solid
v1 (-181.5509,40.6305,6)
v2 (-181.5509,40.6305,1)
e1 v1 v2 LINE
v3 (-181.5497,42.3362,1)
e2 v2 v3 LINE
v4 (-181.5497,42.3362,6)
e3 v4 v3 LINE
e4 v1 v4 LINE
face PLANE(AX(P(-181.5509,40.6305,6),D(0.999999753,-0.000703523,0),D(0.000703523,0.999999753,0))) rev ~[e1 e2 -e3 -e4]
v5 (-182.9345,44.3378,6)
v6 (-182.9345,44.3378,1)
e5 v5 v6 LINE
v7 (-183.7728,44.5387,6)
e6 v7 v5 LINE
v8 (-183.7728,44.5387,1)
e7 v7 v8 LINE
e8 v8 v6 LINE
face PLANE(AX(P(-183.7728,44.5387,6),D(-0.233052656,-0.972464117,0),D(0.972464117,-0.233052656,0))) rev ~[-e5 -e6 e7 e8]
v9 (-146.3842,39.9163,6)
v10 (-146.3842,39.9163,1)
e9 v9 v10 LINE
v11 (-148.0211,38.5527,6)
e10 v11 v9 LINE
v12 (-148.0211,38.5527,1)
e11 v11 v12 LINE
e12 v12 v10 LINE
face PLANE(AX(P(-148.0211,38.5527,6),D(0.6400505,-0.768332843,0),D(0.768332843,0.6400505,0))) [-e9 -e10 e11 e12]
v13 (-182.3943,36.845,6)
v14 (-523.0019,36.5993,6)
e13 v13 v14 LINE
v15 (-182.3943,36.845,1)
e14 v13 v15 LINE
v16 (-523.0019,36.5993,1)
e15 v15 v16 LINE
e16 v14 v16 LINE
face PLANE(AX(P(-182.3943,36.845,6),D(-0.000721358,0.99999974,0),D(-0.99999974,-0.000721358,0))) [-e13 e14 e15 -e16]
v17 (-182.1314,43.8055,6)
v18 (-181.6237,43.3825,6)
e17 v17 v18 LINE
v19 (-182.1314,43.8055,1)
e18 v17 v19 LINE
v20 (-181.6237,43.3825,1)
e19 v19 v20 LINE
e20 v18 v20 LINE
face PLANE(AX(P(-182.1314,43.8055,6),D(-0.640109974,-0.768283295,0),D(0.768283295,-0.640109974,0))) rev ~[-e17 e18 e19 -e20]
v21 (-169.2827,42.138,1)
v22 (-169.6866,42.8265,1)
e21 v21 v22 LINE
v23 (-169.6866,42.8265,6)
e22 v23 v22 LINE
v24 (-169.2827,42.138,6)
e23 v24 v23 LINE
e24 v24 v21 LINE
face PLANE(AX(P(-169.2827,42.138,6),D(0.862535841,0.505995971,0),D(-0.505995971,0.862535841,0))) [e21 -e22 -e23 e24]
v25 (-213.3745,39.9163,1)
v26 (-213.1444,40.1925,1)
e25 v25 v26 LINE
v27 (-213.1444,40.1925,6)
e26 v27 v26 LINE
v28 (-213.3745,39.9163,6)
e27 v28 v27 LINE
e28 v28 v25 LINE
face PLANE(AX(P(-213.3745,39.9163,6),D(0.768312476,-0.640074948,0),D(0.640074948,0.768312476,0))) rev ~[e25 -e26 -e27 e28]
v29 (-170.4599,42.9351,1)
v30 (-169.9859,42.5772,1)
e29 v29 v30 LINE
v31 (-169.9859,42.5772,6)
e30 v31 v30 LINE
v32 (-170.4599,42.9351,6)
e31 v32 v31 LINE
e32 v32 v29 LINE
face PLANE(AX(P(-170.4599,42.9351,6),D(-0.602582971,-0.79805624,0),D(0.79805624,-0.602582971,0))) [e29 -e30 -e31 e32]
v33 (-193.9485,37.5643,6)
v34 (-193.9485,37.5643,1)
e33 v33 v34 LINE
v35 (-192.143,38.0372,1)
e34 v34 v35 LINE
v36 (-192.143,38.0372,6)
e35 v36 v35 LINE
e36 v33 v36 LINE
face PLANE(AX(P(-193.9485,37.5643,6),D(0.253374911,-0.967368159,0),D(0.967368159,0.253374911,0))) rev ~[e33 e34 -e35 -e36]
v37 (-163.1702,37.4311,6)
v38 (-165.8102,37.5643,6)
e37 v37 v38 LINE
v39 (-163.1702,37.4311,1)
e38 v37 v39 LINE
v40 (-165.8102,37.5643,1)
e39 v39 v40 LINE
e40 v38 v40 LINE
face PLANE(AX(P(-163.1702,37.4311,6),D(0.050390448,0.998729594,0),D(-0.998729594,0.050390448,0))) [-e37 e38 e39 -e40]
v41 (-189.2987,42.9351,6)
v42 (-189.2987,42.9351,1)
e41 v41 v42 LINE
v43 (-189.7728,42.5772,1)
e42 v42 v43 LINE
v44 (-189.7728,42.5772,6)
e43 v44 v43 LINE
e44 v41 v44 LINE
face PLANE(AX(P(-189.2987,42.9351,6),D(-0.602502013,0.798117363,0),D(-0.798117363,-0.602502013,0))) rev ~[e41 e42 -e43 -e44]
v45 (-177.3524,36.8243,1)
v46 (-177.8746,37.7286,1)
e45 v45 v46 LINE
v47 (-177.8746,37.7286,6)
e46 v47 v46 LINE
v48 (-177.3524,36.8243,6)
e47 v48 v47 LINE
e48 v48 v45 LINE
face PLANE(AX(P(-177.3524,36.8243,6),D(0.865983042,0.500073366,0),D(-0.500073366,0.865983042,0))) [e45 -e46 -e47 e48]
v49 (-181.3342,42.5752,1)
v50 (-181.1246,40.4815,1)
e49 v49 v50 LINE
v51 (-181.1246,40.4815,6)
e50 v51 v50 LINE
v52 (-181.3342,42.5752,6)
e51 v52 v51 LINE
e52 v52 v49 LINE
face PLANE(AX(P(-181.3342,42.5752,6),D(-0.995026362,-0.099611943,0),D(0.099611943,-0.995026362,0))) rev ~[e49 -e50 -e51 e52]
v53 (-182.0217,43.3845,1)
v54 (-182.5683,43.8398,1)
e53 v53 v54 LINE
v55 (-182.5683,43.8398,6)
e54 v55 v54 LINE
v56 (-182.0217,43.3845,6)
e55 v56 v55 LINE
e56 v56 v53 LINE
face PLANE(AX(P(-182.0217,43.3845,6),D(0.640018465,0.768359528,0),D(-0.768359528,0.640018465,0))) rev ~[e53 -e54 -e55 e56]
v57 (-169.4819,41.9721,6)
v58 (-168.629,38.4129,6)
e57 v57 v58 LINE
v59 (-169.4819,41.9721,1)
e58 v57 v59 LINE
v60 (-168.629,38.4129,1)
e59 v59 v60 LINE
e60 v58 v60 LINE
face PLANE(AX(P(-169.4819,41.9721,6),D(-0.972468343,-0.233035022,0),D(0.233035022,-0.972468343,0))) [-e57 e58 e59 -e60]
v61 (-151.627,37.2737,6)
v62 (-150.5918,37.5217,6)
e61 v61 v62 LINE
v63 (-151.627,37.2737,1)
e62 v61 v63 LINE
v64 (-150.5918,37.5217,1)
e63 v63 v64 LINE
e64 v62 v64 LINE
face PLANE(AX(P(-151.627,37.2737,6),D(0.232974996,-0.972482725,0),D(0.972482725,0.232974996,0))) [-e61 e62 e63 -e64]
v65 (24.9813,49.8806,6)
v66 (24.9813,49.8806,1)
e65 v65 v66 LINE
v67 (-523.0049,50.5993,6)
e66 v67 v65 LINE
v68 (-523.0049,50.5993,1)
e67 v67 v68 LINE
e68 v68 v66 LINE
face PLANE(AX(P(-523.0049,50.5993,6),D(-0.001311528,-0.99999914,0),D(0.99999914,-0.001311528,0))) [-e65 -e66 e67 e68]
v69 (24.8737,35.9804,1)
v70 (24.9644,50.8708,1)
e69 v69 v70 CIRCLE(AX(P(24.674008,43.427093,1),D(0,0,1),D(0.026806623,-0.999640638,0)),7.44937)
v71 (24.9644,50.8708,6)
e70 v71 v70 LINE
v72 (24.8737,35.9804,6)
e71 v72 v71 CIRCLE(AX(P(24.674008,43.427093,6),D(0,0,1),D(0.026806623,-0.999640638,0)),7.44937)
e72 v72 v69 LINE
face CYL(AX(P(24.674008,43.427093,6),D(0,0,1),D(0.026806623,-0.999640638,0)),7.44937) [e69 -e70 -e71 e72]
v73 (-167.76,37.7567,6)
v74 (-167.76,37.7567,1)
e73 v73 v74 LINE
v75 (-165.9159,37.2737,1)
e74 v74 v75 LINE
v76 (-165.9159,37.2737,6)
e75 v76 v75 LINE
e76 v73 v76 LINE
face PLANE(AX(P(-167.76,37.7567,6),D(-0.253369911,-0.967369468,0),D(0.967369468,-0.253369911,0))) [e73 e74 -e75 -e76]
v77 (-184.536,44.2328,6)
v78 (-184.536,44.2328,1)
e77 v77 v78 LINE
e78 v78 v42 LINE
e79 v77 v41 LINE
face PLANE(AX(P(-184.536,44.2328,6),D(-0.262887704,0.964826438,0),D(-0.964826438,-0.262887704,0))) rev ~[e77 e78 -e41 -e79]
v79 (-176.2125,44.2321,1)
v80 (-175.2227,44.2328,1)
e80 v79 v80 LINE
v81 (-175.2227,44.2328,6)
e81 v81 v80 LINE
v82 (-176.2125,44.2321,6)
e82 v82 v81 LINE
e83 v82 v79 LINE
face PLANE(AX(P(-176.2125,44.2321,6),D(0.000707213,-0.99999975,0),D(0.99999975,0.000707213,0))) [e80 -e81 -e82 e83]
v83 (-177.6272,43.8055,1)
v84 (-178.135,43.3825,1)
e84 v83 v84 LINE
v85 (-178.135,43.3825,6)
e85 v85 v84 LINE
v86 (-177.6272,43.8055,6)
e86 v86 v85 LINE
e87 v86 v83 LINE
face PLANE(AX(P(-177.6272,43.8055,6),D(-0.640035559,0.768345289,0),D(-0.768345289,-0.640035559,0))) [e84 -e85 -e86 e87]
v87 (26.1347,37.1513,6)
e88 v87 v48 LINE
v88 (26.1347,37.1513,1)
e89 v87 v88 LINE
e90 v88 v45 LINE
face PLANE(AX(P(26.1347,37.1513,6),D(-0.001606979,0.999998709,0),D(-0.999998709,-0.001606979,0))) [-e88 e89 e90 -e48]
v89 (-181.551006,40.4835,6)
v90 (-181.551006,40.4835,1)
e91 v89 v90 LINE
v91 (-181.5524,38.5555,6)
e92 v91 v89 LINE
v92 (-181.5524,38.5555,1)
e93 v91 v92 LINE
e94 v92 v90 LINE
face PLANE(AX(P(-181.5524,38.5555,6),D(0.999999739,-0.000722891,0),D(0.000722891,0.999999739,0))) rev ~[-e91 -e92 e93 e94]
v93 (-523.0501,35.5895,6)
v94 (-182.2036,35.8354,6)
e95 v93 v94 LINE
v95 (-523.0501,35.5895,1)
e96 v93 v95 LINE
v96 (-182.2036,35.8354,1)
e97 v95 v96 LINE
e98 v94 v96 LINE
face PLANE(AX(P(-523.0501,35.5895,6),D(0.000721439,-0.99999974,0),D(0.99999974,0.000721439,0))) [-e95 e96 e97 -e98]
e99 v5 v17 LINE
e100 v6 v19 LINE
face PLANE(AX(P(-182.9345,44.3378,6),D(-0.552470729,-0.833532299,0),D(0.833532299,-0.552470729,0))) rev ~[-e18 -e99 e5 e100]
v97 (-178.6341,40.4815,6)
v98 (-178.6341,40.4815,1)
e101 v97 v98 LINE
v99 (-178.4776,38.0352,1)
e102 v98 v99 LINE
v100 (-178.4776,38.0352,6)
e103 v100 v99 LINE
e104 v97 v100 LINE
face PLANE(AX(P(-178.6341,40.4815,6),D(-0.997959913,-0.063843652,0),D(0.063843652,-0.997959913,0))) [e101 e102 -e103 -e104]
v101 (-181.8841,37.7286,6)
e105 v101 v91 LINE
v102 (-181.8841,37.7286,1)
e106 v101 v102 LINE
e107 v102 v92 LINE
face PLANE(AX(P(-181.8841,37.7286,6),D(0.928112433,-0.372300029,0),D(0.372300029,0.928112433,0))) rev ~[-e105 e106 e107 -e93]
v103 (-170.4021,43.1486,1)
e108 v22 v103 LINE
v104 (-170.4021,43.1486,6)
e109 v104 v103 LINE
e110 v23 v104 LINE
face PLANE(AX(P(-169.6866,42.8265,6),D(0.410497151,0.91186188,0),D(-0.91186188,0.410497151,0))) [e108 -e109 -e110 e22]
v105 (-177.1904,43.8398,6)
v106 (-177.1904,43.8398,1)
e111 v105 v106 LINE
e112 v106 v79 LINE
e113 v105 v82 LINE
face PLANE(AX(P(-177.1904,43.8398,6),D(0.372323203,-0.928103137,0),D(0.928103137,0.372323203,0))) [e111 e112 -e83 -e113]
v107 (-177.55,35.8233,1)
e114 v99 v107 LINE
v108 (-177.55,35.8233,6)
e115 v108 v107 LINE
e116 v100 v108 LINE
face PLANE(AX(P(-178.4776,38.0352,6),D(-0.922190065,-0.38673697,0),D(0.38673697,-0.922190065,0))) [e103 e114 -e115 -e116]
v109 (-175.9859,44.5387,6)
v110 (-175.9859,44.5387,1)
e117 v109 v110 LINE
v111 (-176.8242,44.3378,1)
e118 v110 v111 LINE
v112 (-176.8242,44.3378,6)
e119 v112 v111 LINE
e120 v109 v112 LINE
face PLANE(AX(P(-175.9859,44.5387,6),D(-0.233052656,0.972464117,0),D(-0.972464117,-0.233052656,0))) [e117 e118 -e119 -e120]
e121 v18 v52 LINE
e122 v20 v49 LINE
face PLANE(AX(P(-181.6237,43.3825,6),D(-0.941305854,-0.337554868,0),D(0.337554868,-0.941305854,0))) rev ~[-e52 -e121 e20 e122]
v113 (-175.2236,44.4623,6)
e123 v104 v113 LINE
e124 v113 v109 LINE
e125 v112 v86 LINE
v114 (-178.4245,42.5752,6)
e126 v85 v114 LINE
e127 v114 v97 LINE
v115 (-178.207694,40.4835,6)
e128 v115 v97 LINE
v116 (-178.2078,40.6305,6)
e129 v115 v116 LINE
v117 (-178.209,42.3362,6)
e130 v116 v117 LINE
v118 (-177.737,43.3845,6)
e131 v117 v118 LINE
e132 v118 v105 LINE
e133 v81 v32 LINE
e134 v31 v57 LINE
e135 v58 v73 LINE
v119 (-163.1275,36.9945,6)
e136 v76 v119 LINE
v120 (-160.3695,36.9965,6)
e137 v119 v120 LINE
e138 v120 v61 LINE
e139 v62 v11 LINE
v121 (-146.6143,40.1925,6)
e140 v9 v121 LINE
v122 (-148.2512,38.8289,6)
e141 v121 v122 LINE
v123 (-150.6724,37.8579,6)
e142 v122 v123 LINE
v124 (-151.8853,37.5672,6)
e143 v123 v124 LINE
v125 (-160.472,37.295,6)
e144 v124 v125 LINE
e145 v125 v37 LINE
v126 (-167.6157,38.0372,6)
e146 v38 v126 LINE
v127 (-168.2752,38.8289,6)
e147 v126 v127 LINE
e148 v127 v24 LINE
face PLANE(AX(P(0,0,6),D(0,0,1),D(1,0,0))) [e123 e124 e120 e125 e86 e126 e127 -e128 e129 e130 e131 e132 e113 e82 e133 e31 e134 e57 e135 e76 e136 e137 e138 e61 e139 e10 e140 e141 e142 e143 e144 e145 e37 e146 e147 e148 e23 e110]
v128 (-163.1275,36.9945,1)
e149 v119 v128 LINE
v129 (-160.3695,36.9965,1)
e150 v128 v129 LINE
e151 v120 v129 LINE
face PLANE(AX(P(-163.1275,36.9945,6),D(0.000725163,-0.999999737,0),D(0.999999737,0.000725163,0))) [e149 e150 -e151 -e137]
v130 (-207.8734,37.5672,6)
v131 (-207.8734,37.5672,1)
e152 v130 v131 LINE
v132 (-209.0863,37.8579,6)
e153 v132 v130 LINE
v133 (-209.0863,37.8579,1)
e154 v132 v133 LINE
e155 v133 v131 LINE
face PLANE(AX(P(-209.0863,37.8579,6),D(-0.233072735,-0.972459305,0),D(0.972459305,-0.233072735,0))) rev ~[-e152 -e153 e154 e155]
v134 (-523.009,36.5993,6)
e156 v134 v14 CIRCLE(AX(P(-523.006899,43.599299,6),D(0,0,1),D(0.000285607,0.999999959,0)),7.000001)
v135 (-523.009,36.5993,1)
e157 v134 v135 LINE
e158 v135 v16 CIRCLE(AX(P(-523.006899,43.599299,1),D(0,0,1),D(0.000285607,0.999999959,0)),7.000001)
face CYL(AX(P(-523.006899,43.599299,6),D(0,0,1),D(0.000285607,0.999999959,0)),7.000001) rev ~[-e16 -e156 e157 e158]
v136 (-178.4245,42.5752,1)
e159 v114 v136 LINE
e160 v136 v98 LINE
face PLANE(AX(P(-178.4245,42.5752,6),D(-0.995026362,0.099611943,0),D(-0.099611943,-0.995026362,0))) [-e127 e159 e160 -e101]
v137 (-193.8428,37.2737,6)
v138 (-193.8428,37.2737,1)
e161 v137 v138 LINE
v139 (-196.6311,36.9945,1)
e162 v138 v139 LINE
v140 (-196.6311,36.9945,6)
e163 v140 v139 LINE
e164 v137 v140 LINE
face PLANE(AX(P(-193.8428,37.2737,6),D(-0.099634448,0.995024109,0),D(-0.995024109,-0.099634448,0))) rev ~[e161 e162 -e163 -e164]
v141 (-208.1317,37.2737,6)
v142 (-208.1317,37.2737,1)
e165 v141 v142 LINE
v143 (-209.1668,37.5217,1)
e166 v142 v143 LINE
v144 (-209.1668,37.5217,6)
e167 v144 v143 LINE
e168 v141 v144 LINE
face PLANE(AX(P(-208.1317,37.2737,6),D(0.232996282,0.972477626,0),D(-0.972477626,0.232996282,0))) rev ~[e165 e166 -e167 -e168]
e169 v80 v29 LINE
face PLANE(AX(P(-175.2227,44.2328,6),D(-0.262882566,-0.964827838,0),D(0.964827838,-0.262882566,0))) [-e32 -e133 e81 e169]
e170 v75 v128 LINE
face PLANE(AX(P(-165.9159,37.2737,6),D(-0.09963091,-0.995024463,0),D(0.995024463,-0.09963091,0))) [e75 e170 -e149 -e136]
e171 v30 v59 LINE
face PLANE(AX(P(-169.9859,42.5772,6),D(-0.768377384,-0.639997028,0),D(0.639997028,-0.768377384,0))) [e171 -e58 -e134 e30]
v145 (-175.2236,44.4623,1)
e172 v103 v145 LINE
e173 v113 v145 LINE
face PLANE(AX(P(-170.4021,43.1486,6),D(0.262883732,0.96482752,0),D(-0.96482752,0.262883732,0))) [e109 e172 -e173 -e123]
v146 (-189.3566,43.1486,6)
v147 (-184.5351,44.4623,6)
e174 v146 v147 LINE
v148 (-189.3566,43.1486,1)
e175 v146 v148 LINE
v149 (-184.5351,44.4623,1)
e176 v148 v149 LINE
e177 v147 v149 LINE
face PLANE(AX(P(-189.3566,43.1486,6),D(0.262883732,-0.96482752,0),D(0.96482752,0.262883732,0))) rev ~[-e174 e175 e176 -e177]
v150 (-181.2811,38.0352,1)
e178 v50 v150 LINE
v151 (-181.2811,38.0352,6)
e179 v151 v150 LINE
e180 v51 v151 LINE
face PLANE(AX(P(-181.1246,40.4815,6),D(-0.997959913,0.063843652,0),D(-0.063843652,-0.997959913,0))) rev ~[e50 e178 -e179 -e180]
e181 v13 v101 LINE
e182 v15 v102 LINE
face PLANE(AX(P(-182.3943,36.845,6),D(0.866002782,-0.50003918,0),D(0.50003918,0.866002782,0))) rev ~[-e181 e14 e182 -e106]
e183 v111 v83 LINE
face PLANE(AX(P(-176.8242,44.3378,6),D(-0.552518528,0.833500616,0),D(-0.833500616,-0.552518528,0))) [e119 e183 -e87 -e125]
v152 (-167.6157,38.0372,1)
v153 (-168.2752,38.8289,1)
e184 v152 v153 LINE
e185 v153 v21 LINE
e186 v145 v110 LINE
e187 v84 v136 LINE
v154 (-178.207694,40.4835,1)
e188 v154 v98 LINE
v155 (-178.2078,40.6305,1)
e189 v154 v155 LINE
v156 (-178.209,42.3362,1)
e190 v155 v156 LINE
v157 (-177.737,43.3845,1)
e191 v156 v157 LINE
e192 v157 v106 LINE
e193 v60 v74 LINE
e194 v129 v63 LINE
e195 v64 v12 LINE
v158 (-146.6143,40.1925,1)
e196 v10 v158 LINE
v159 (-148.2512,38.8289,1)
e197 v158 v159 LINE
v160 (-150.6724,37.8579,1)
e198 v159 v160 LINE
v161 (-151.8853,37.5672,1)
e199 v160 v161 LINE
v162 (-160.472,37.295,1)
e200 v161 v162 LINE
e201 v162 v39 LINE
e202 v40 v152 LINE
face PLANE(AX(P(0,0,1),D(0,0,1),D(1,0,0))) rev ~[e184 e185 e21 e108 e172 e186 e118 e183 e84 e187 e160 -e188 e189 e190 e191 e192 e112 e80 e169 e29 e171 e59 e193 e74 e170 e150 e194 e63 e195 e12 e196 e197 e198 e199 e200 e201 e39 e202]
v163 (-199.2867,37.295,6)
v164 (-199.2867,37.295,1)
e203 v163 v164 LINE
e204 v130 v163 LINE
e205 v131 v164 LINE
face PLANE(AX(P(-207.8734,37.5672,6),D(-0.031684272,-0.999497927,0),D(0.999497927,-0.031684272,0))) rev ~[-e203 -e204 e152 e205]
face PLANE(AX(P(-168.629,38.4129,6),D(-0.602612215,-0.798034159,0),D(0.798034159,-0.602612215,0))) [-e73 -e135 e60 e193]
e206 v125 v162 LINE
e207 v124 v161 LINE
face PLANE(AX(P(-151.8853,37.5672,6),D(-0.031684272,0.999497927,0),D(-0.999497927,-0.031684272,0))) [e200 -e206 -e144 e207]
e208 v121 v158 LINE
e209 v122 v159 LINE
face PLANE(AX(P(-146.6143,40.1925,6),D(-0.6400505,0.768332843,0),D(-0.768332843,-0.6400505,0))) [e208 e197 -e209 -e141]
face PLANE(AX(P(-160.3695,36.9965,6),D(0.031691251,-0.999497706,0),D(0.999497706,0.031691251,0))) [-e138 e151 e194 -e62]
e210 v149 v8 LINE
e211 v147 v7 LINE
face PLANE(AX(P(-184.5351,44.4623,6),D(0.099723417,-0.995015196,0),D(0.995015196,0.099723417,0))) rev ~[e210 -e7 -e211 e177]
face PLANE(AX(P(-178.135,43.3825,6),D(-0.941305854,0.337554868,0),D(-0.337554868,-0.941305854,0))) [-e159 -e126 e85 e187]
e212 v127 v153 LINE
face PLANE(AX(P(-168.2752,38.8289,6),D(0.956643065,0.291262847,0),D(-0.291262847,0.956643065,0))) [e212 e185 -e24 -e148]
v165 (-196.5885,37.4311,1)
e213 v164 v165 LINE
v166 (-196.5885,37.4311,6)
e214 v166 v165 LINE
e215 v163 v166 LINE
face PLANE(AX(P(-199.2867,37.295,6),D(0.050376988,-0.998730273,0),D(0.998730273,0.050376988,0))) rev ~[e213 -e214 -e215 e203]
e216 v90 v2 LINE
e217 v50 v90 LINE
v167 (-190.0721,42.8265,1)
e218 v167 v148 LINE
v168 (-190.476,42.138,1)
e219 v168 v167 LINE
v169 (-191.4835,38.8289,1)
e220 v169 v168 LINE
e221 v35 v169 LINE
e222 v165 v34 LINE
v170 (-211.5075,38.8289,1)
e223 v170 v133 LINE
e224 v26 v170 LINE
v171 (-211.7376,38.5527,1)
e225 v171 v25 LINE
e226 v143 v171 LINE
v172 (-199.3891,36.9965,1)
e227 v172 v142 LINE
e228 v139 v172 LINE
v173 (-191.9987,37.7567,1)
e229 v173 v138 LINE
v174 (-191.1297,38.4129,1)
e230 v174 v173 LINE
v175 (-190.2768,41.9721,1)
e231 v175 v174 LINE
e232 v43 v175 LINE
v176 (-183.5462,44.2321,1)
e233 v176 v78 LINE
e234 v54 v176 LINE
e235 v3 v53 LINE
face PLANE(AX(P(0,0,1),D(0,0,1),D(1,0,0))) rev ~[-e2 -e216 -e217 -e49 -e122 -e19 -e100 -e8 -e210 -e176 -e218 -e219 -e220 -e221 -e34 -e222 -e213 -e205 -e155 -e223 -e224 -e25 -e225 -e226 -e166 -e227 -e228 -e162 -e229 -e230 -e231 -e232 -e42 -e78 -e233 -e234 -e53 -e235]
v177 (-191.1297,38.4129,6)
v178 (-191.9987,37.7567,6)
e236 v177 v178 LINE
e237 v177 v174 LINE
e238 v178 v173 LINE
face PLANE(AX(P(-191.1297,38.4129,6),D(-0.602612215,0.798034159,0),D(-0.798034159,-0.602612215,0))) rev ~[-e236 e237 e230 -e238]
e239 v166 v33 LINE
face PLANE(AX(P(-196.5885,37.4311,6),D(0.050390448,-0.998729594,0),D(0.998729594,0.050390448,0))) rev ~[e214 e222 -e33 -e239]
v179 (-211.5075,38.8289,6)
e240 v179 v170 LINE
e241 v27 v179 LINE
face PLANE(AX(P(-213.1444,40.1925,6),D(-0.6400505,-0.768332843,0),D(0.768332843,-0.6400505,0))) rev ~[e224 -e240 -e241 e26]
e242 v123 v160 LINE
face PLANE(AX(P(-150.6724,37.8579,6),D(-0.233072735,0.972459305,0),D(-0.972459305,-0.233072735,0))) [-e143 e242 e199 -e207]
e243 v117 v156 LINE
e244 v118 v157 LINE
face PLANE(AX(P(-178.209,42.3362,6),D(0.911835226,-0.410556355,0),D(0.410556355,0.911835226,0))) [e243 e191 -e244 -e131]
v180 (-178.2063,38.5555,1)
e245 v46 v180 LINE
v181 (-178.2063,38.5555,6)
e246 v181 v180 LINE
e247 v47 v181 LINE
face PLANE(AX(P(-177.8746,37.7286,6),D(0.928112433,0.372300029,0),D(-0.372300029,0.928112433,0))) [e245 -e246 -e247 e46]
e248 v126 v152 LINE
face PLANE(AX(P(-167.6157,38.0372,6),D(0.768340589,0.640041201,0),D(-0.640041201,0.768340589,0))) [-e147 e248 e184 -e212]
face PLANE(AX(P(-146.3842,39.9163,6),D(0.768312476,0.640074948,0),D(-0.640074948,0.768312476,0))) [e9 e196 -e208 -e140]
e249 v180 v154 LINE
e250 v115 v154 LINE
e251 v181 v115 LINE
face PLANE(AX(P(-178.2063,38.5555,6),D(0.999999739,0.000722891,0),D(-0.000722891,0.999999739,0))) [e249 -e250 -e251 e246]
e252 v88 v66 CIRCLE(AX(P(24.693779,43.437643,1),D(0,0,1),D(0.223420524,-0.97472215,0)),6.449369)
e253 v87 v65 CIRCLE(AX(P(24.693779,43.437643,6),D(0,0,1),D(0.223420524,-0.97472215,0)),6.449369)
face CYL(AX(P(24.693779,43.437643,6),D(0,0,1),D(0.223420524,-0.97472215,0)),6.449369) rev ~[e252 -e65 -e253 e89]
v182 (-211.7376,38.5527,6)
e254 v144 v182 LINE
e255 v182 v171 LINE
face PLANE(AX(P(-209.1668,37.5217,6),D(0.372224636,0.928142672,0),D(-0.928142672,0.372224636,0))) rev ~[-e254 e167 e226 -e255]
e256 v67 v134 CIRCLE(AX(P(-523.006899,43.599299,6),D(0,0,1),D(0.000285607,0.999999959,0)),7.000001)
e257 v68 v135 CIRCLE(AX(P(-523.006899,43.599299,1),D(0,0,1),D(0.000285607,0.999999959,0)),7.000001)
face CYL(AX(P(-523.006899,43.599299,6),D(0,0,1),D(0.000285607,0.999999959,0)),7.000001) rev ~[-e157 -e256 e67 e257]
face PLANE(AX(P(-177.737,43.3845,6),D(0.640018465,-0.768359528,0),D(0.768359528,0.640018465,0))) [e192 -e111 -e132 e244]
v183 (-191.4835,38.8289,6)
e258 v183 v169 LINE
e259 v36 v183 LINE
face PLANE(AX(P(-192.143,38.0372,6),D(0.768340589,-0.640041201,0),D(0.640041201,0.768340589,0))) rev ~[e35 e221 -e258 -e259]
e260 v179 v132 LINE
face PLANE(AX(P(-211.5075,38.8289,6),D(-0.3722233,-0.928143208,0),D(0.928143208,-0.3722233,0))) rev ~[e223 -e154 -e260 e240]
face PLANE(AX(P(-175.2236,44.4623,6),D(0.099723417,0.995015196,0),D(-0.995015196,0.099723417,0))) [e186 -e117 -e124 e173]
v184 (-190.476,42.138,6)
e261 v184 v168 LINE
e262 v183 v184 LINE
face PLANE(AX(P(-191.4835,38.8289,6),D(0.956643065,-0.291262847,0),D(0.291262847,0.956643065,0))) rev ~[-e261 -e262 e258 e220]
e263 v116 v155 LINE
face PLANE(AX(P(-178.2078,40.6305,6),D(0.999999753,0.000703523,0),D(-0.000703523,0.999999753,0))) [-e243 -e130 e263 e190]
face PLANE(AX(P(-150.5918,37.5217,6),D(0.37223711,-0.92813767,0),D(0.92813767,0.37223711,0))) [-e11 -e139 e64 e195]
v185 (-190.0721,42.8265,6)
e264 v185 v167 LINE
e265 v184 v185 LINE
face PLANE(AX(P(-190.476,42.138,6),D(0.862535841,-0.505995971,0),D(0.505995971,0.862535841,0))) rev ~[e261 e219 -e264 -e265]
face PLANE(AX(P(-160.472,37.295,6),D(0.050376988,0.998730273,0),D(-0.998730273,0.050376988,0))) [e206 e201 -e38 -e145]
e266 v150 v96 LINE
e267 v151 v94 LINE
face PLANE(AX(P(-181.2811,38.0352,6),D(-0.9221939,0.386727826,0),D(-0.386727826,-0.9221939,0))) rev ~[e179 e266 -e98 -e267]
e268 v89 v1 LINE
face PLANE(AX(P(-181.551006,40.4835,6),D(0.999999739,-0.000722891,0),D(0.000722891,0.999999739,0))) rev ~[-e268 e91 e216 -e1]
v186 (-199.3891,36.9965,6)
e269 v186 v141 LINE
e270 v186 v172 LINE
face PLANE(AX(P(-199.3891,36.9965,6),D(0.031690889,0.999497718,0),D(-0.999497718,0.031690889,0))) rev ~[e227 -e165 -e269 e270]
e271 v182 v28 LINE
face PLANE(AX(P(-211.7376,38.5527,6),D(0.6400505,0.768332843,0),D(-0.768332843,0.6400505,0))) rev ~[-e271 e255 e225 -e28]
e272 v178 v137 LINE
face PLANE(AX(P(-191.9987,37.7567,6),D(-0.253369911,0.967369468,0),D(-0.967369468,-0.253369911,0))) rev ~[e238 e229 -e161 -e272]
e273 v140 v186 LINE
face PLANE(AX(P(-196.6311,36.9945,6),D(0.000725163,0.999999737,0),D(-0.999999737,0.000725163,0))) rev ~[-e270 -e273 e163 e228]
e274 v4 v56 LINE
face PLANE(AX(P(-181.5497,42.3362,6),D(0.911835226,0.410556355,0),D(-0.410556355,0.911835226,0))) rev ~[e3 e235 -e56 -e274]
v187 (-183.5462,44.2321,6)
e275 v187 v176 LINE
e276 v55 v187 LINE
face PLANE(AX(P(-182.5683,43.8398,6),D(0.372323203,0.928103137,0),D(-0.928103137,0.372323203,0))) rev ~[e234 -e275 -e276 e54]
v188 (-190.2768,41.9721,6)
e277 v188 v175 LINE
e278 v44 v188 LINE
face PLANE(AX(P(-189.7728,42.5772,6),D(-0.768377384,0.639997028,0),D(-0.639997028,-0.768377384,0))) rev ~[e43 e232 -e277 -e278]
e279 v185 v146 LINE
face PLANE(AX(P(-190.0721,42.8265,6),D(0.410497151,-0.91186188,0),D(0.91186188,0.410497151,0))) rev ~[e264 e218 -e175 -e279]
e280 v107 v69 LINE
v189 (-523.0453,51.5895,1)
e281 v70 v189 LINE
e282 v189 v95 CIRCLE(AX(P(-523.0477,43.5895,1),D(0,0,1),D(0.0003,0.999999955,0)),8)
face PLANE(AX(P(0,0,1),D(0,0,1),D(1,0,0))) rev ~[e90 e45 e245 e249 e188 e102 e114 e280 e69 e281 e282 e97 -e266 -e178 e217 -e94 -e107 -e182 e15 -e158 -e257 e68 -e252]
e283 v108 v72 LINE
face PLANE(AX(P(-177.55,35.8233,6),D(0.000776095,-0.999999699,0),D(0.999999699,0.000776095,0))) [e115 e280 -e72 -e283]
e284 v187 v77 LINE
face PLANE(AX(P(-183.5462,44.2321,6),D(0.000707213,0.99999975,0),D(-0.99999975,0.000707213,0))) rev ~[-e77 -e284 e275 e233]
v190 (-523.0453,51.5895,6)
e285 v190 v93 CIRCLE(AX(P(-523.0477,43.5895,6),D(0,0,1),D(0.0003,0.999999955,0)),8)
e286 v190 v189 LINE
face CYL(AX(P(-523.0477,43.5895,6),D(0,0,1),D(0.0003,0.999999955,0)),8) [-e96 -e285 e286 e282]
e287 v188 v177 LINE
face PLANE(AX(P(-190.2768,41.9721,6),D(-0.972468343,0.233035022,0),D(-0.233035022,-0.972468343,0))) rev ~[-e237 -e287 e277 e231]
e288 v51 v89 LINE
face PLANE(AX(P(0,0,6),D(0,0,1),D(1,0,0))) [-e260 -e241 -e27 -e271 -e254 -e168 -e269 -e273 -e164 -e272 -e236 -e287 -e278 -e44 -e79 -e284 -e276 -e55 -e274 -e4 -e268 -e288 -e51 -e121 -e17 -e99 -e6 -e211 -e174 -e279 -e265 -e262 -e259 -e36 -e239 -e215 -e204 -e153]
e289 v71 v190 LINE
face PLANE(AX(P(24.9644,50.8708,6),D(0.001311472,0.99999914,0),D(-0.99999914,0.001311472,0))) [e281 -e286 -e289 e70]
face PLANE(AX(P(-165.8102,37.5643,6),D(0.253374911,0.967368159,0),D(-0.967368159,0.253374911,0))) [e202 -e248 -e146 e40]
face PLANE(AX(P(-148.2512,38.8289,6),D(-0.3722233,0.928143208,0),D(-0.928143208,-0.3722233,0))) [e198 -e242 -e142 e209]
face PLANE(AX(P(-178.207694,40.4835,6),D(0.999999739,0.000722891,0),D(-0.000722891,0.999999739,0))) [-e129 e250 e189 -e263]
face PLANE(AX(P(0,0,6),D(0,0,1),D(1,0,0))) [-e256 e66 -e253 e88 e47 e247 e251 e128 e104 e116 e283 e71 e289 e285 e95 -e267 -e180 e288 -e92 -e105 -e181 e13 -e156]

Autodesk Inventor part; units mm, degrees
ref_plane "YZ Plane" through (0, 0, 0) normal (1, 0, 0) x (0, 1, 0)
ref_plane "XZ Plane" through (0, 0, 0) normal (0, 1, 0) x (-1, 0, 0)
ref_plane "XY Plane" through (0, 0, 0) normal (0, 0, 1) x (1, 0, 0)
ref_plane "Work Plane1" through (0, 0, 0) normal (0, 0, 1) x (1, 0, 0)
sketch "Sketch1" plane through (0, 0, 0) normal (0, 0, 1) x (1, 0, 0)
  arc A0 (24.6543, 36.9901) -> (24.6581, 49.8888) centre (24.6562, 43.4394) ccw
  arc A1 (-523.0049, 50.5993) -> (-523.009, 36.5993) centre (-523.014, 43.5993) ccw
  line L0 (-523.009, 36.5993) -> (24.8958, 36.9945)
  line L1 (24.9813, 49.8806) -> (-523.0049, 50.5993)
  line L2 (-523.0083, 35.5993) -> (24.9141, 35.9946)
  arc A2 (24.655, 35.9901) -> (24.666, 50.8888) centre (24.6562, 43.4394) ccw
  arc A3 (-523.0035, 51.5993) -> (-523.0083, 35.5993) centre (-523.014, 43.5993) ccw
  line L3 (-523.0035, 51.5993) -> (25.0062, 50.8806)
  point P0 (0, 0)
  dimension "d0" = 1
ref_plane "Work Plane2" through (0, 0, 6) normal (0, 0, 1) x (1, 0, 0)
sketch "Sketch2" plane through (0, 0, 6) normal (0, 0, 1) x (1, 0, 0)
  line L0 (-523.0049, 50.5993) -> (24.9813, 49.8806)
  arc A0 (26.1347, 37.1513) -> (24.9813, 49.8806) centre (24.6937, 43.4377) ccw
  arc A1 (-523.0049, 50.5993) -> (-523.0019, 36.5993) centre (-523.0069, 43.5993) ccw
  line L1 (-523.0501, 35.5895) -> (-182.2036, 35.8354)
  arc A2 (24.8737, 35.9804) -> (24.9644, 50.8708) centre (24.674, 43.4271) ccw
  line L2 (24.9644, 50.8708) -> (-523.0453, 51.5895)
  arc A3 (-523.0453, 51.5895) -> (-523.0501, 35.5895) centre (-523.0477, 43.5895) ccw
  line L3 (26.1347, 37.1513) -> (-177.3524, 36.8243)
  line L4 (26.1347, 37.1513) -> (-177.3524, 36.8243)
  line L5 (-177.55, 35.8233) -> (24.8737, 35.9804)
  line L6 (-182.3943, 36.845) -> (-523.0019, 36.5993)
  line L7 (-182.3943, 36.845) -> (-523.0019, 36.5993)
  line L8 (-182.3943, 36.845) -> (-523.009, 36.5993)
  arc A4 (-175.5981, 44.0056) -> (-177.8793, 42.0255) centre (-175.8793, 42.0255) ccw projected
  line L9 (-177.8793, 42.0255) -> (-177.8793, 38.1674) projected
  line L10 (-168.9783, 38.1674) -> (-177.8793, 38.1674) projected
  arc A5 (-168.9783, 38.1674) -> (-168.8741, 38.8755) centre (-169.5783, 38.6174) ccw projected
  line L11 (-168.8741, 38.8755) -> (-169.5014, 41.4937) projected
  arc A6 (-169.5014, 41.4937) -> (-170.852, 42.9373) centre (-171.4464, 41.0276) ccw projected
  arc A7 (-170.852, 42.9373) -> (-175.5981, 44.0056) centre (-179.8602, 13.9956) ccw projected
  arc A8 (-181.8793, 42.02) -> (-184.1633, 43.9998) centre (-183.8793, 42.02) ccw projected
  arc A9 (-184.1633, 43.9998) -> (-188.8754, 42.9351) centre (-179.8602, 13.9956) ccw projected
  arc A10 (-188.8754, 42.9351) -> (-190.223, 41.5019) centre (-188.2805, 41.0256) ccw projected
  line L12 (-190.223, 41.5019) -> (-190.8453, 38.9643) projected
  arc A11 (-190.8453, 38.9643) -> (-190.7804, 38.1674) centre (-190.1804, 38.6174) ccw projected
  line L13 (-181.8793, 38.1674) -> (-190.7804, 38.1674) projected
  line L14 (-181.8793, 42.02) -> (-181.8793, 38.1674) projected
  line L15 (-177.3524, 36.8243) -> (-177.8746, 37.7286)
  line L16 (-177.8746, 37.7286) -> (-178.2063, 38.5555)
  line L17 (-178.2063, 38.5555) -> (-178.2078, 40.6305)
  line L18 (-178.2078, 40.6305) -> (-178.209, 42.3362)
  line L19 (-178.209, 42.3362) -> (-177.737, 43.3845)
  line L20 (-177.737, 43.3845) -> (-177.1904, 43.8398)
  line L21 (-177.1904, 43.8398) -> (-176.2125, 44.2321)
  line L22 (-176.2125, 44.2321) -> (-175.2227, 44.2328)
  line L23 (-175.2227, 44.2328) -> (-170.4599, 42.9351)
  line L24 (-170.4599, 42.9351) -> (-169.9859, 42.5772)
  line L25 (-169.9859, 42.5772) -> (-169.4819, 41.9721)
  line L26 (-169.4819, 41.9721) -> (-168.629, 38.4129)
  line L27 (-168.629, 38.4129) -> (-167.76, 37.7567)
  line L28 (-167.76, 37.7567) -> (-165.9159, 37.2737)
  line L29 (-165.9159, 37.2737) -> (-163.1275, 36.9945)
  line L30 (-163.1275, 36.9945) -> (-160.3695, 36.9965)
  line L31 (-160.3695, 36.9965) -> (-151.627, 37.2737)
  line L32 (-151.627, 37.2737) -> (-150.5918, 37.5217)
  line L33 (-150.5918, 37.5217) -> (-148.0211, 38.5527)
  line L34 (-148.0211, 38.5527) -> (-146.3842, 39.9163)
  line L35 (-146.3842, 39.9163) -> (-146.6143, 40.1925)
  line L36 (-146.6143, 40.1925) -> (-148.2512, 38.8289)
  line L37 (-148.2512, 38.8289) -> (-150.6724, 37.8579)
  line L38 (-150.6724, 37.8579) -> (-151.8853, 37.5672)
  line L39 (-151.8853, 37.5672) -> (-160.472, 37.295)
  line L40 (-160.472, 37.295) -> (-163.1702, 37.4311)
  line L41 (-163.1702, 37.4311) -> (-165.8102, 37.5643)
  line L42 (-165.8102, 37.5643) -> (-167.6157, 38.0372)
  line L43 (-167.6157, 38.0372) -> (-168.2752, 38.8289)
  line L44 (-168.2752, 38.8289) -> (-169.2827, 42.138)
  line L45 (-169.2827, 42.138) -> (-169.6866, 42.8265)
  line L46 (-169.6866, 42.8265) -> (-170.4021, 43.1486)
  line L47 (-170.4021, 43.1486) -> (-175.2236, 44.4623)
  line L48 (-175.2236, 44.4623) -> (-175.9859, 44.5387)
  line L49 (-175.9859, 44.5387) -> (-176.8242, 44.3378)
  line L50 (-176.8242, 44.3378) -> (-177.6272, 43.8055)
  line L51 (-177.6272, 43.8055) -> (-178.135, 43.3825)
  line L52 (-178.135, 43.3825) -> (-178.4245, 42.5752)
  line L53 (-178.4245, 42.5752) -> (-178.6341, 40.4815)
  line L54 (-178.6341, 40.4815) -> (-178.4776, 38.0352)
  line L55 (-178.4776, 38.0352) -> (-177.55, 35.8233)
  line L56 (-177.8793, 40.4835) -> (-181.8793, 40.4835)
  line L57 (-179.8793, 40.4835) -> (-179.8793, 39.2603)
  arc A12 (-181.8793, 42.0255) -> (-184.1606, 44.0056) centre (-183.8793, 42.0255) ccw
  line L58 (-181.8793, 42.0255) -> (-181.8793, 38.1674)
  line L59 (-190.7804, 38.1674) -> (-181.8793, 38.1674)
  arc A13 (-190.8846, 38.8755) -> (-190.7804, 38.1674) centre (-190.1804, 38.6174) ccw
  line L60 (-190.8846, 38.8755) -> (-190.2572, 41.4937)
  arc A14 (-188.9067, 42.9373) -> (-190.2572, 41.4937) centre (-188.3123, 41.0276) ccw
  arc A15 (-184.1606, 44.0056) -> (-188.9067, 42.9373) centre (-179.8985, 13.9956) ccw
  line L61 (-182.3943, 36.845) -> (-181.8841, 37.7286)
  line L62 (-181.8841, 37.7286) -> (-181.5524, 38.5555)
  line L63 (-181.5524, 38.5555) -> (-181.5509, 40.6305)
  line L64 (-181.5509, 40.6305) -> (-181.5497, 42.3362)
  line L65 (-181.5497, 42.3362) -> (-182.0217, 43.3845)
  line L66 (-182.0217, 43.3845) -> (-182.5683, 43.8398)
  line L67 (-182.5683, 43.8398) -> (-183.5462, 44.2321)
  line L68 (-183.5462, 44.2321) -> (-184.536, 44.2328)
  line L69 (-184.536, 44.2328) -> (-189.2987, 42.9351)
  line L70 (-189.2987, 42.9351) -> (-189.7728, 42.5772)
  line L71 (-189.7728, 42.5772) -> (-190.2768, 41.9721)
  line L72 (-190.2768, 41.9721) -> (-191.1297, 38.4129)
  line L73 (-191.1297, 38.4129) -> (-191.9987, 37.7567)
  line L74 (-191.9987, 37.7567) -> (-193.8428, 37.2737)
  line L75 (-193.8428, 37.2737) -> (-196.6311, 36.9945)
  line L76 (-196.6311, 36.9945) -> (-199.3891, 36.9965)
  line L77 (-199.3891, 36.9965) -> (-208.1317, 37.2737)
  line L78 (-208.1317, 37.2737) -> (-209.1668, 37.5217)
  line L79 (-209.1668, 37.5217) -> (-211.7376, 38.5527)
  line L80 (-211.7376, 38.5527) -> (-213.3745, 39.9163)
  line L81 (-213.3745, 39.9163) -> (-213.1444, 40.1925)
  line L82 (-213.1444, 40.1925) -> (-211.5075, 38.8289)
  line L83 (-211.5075, 38.8289) -> (-209.0863, 37.8579)
  line L84 (-209.0863, 37.8579) -> (-207.8734, 37.5672)
  line L85 (-207.8734, 37.5672) -> (-199.2867, 37.295)
  line L86 (-199.2867, 37.295) -> (-196.5885, 37.4311)
  line L87 (-196.5885, 37.4311) -> (-193.9485, 37.5643)
  line L88 (-193.9485, 37.5643) -> (-192.143, 38.0372)
  line L89 (-192.143, 38.0372) -> (-191.4835, 38.8289)
  line L90 (-191.4835, 38.8289) -> (-190.476, 42.138)
  line L91 (-190.476, 42.138) -> (-190.0721, 42.8265)
  line L92 (-190.0721, 42.8265) -> (-189.3566, 43.1486)
  line L93 (-189.3566, 43.1486) -> (-184.5351, 44.4623)
  line L94 (-184.5351, 44.4623) -> (-183.7728, 44.5387)
  line L95 (-183.7728, 44.5387) -> (-182.9345, 44.3378)
  line L96 (-182.9345, 44.3378) -> (-182.1314, 43.8055)
  line L97 (-182.1314, 43.8055) -> (-181.6237, 43.3825)
  line L98 (-181.6237, 43.3825) -> (-181.3342, 42.5752)
  line L99 (-181.3342, 42.5752) -> (-181.1246, 40.4815)
  line L100 (-181.1246, 40.4815) -> (-181.2811, 38.0352)
  line L101 (-181.2811, 38.0352) -> (-182.2036, 35.8354)
  point P0 (-182.2087, 35.8233)
  point P1 (-182.4063, 36.8243)
extrude "Extrusion2" add sketch "Sketch2" against normal blind 5 contours A1 L6 L61 L62 L63 L56 L100 L101 L1 A3 L2 A2 L5 L55 L54 L17 L16 L15 L3 A0 L0 | L56 L53 L52 L51 L50 L49 L48 L47 L46 L45 L44 L43 L42 L41 L40 L39 L38 L37 L36 L35 L34 L33 L32 L31 L30 L29 L28 L27 L26 L25 L24 L23 L22 L21 L20 L19 L18 L17 | L63 L64 L65 L66 L67 L68 L69 L70 L71 L72 L73 L74 L75 L76 L77 L78 L79 L80 L81 L82 L83 L84 L85 L86 L87 L88 L89 L90 L91 L92 L93 L94 L95 L96 L97 L98 L99 L56
properties part number "XBELT"
